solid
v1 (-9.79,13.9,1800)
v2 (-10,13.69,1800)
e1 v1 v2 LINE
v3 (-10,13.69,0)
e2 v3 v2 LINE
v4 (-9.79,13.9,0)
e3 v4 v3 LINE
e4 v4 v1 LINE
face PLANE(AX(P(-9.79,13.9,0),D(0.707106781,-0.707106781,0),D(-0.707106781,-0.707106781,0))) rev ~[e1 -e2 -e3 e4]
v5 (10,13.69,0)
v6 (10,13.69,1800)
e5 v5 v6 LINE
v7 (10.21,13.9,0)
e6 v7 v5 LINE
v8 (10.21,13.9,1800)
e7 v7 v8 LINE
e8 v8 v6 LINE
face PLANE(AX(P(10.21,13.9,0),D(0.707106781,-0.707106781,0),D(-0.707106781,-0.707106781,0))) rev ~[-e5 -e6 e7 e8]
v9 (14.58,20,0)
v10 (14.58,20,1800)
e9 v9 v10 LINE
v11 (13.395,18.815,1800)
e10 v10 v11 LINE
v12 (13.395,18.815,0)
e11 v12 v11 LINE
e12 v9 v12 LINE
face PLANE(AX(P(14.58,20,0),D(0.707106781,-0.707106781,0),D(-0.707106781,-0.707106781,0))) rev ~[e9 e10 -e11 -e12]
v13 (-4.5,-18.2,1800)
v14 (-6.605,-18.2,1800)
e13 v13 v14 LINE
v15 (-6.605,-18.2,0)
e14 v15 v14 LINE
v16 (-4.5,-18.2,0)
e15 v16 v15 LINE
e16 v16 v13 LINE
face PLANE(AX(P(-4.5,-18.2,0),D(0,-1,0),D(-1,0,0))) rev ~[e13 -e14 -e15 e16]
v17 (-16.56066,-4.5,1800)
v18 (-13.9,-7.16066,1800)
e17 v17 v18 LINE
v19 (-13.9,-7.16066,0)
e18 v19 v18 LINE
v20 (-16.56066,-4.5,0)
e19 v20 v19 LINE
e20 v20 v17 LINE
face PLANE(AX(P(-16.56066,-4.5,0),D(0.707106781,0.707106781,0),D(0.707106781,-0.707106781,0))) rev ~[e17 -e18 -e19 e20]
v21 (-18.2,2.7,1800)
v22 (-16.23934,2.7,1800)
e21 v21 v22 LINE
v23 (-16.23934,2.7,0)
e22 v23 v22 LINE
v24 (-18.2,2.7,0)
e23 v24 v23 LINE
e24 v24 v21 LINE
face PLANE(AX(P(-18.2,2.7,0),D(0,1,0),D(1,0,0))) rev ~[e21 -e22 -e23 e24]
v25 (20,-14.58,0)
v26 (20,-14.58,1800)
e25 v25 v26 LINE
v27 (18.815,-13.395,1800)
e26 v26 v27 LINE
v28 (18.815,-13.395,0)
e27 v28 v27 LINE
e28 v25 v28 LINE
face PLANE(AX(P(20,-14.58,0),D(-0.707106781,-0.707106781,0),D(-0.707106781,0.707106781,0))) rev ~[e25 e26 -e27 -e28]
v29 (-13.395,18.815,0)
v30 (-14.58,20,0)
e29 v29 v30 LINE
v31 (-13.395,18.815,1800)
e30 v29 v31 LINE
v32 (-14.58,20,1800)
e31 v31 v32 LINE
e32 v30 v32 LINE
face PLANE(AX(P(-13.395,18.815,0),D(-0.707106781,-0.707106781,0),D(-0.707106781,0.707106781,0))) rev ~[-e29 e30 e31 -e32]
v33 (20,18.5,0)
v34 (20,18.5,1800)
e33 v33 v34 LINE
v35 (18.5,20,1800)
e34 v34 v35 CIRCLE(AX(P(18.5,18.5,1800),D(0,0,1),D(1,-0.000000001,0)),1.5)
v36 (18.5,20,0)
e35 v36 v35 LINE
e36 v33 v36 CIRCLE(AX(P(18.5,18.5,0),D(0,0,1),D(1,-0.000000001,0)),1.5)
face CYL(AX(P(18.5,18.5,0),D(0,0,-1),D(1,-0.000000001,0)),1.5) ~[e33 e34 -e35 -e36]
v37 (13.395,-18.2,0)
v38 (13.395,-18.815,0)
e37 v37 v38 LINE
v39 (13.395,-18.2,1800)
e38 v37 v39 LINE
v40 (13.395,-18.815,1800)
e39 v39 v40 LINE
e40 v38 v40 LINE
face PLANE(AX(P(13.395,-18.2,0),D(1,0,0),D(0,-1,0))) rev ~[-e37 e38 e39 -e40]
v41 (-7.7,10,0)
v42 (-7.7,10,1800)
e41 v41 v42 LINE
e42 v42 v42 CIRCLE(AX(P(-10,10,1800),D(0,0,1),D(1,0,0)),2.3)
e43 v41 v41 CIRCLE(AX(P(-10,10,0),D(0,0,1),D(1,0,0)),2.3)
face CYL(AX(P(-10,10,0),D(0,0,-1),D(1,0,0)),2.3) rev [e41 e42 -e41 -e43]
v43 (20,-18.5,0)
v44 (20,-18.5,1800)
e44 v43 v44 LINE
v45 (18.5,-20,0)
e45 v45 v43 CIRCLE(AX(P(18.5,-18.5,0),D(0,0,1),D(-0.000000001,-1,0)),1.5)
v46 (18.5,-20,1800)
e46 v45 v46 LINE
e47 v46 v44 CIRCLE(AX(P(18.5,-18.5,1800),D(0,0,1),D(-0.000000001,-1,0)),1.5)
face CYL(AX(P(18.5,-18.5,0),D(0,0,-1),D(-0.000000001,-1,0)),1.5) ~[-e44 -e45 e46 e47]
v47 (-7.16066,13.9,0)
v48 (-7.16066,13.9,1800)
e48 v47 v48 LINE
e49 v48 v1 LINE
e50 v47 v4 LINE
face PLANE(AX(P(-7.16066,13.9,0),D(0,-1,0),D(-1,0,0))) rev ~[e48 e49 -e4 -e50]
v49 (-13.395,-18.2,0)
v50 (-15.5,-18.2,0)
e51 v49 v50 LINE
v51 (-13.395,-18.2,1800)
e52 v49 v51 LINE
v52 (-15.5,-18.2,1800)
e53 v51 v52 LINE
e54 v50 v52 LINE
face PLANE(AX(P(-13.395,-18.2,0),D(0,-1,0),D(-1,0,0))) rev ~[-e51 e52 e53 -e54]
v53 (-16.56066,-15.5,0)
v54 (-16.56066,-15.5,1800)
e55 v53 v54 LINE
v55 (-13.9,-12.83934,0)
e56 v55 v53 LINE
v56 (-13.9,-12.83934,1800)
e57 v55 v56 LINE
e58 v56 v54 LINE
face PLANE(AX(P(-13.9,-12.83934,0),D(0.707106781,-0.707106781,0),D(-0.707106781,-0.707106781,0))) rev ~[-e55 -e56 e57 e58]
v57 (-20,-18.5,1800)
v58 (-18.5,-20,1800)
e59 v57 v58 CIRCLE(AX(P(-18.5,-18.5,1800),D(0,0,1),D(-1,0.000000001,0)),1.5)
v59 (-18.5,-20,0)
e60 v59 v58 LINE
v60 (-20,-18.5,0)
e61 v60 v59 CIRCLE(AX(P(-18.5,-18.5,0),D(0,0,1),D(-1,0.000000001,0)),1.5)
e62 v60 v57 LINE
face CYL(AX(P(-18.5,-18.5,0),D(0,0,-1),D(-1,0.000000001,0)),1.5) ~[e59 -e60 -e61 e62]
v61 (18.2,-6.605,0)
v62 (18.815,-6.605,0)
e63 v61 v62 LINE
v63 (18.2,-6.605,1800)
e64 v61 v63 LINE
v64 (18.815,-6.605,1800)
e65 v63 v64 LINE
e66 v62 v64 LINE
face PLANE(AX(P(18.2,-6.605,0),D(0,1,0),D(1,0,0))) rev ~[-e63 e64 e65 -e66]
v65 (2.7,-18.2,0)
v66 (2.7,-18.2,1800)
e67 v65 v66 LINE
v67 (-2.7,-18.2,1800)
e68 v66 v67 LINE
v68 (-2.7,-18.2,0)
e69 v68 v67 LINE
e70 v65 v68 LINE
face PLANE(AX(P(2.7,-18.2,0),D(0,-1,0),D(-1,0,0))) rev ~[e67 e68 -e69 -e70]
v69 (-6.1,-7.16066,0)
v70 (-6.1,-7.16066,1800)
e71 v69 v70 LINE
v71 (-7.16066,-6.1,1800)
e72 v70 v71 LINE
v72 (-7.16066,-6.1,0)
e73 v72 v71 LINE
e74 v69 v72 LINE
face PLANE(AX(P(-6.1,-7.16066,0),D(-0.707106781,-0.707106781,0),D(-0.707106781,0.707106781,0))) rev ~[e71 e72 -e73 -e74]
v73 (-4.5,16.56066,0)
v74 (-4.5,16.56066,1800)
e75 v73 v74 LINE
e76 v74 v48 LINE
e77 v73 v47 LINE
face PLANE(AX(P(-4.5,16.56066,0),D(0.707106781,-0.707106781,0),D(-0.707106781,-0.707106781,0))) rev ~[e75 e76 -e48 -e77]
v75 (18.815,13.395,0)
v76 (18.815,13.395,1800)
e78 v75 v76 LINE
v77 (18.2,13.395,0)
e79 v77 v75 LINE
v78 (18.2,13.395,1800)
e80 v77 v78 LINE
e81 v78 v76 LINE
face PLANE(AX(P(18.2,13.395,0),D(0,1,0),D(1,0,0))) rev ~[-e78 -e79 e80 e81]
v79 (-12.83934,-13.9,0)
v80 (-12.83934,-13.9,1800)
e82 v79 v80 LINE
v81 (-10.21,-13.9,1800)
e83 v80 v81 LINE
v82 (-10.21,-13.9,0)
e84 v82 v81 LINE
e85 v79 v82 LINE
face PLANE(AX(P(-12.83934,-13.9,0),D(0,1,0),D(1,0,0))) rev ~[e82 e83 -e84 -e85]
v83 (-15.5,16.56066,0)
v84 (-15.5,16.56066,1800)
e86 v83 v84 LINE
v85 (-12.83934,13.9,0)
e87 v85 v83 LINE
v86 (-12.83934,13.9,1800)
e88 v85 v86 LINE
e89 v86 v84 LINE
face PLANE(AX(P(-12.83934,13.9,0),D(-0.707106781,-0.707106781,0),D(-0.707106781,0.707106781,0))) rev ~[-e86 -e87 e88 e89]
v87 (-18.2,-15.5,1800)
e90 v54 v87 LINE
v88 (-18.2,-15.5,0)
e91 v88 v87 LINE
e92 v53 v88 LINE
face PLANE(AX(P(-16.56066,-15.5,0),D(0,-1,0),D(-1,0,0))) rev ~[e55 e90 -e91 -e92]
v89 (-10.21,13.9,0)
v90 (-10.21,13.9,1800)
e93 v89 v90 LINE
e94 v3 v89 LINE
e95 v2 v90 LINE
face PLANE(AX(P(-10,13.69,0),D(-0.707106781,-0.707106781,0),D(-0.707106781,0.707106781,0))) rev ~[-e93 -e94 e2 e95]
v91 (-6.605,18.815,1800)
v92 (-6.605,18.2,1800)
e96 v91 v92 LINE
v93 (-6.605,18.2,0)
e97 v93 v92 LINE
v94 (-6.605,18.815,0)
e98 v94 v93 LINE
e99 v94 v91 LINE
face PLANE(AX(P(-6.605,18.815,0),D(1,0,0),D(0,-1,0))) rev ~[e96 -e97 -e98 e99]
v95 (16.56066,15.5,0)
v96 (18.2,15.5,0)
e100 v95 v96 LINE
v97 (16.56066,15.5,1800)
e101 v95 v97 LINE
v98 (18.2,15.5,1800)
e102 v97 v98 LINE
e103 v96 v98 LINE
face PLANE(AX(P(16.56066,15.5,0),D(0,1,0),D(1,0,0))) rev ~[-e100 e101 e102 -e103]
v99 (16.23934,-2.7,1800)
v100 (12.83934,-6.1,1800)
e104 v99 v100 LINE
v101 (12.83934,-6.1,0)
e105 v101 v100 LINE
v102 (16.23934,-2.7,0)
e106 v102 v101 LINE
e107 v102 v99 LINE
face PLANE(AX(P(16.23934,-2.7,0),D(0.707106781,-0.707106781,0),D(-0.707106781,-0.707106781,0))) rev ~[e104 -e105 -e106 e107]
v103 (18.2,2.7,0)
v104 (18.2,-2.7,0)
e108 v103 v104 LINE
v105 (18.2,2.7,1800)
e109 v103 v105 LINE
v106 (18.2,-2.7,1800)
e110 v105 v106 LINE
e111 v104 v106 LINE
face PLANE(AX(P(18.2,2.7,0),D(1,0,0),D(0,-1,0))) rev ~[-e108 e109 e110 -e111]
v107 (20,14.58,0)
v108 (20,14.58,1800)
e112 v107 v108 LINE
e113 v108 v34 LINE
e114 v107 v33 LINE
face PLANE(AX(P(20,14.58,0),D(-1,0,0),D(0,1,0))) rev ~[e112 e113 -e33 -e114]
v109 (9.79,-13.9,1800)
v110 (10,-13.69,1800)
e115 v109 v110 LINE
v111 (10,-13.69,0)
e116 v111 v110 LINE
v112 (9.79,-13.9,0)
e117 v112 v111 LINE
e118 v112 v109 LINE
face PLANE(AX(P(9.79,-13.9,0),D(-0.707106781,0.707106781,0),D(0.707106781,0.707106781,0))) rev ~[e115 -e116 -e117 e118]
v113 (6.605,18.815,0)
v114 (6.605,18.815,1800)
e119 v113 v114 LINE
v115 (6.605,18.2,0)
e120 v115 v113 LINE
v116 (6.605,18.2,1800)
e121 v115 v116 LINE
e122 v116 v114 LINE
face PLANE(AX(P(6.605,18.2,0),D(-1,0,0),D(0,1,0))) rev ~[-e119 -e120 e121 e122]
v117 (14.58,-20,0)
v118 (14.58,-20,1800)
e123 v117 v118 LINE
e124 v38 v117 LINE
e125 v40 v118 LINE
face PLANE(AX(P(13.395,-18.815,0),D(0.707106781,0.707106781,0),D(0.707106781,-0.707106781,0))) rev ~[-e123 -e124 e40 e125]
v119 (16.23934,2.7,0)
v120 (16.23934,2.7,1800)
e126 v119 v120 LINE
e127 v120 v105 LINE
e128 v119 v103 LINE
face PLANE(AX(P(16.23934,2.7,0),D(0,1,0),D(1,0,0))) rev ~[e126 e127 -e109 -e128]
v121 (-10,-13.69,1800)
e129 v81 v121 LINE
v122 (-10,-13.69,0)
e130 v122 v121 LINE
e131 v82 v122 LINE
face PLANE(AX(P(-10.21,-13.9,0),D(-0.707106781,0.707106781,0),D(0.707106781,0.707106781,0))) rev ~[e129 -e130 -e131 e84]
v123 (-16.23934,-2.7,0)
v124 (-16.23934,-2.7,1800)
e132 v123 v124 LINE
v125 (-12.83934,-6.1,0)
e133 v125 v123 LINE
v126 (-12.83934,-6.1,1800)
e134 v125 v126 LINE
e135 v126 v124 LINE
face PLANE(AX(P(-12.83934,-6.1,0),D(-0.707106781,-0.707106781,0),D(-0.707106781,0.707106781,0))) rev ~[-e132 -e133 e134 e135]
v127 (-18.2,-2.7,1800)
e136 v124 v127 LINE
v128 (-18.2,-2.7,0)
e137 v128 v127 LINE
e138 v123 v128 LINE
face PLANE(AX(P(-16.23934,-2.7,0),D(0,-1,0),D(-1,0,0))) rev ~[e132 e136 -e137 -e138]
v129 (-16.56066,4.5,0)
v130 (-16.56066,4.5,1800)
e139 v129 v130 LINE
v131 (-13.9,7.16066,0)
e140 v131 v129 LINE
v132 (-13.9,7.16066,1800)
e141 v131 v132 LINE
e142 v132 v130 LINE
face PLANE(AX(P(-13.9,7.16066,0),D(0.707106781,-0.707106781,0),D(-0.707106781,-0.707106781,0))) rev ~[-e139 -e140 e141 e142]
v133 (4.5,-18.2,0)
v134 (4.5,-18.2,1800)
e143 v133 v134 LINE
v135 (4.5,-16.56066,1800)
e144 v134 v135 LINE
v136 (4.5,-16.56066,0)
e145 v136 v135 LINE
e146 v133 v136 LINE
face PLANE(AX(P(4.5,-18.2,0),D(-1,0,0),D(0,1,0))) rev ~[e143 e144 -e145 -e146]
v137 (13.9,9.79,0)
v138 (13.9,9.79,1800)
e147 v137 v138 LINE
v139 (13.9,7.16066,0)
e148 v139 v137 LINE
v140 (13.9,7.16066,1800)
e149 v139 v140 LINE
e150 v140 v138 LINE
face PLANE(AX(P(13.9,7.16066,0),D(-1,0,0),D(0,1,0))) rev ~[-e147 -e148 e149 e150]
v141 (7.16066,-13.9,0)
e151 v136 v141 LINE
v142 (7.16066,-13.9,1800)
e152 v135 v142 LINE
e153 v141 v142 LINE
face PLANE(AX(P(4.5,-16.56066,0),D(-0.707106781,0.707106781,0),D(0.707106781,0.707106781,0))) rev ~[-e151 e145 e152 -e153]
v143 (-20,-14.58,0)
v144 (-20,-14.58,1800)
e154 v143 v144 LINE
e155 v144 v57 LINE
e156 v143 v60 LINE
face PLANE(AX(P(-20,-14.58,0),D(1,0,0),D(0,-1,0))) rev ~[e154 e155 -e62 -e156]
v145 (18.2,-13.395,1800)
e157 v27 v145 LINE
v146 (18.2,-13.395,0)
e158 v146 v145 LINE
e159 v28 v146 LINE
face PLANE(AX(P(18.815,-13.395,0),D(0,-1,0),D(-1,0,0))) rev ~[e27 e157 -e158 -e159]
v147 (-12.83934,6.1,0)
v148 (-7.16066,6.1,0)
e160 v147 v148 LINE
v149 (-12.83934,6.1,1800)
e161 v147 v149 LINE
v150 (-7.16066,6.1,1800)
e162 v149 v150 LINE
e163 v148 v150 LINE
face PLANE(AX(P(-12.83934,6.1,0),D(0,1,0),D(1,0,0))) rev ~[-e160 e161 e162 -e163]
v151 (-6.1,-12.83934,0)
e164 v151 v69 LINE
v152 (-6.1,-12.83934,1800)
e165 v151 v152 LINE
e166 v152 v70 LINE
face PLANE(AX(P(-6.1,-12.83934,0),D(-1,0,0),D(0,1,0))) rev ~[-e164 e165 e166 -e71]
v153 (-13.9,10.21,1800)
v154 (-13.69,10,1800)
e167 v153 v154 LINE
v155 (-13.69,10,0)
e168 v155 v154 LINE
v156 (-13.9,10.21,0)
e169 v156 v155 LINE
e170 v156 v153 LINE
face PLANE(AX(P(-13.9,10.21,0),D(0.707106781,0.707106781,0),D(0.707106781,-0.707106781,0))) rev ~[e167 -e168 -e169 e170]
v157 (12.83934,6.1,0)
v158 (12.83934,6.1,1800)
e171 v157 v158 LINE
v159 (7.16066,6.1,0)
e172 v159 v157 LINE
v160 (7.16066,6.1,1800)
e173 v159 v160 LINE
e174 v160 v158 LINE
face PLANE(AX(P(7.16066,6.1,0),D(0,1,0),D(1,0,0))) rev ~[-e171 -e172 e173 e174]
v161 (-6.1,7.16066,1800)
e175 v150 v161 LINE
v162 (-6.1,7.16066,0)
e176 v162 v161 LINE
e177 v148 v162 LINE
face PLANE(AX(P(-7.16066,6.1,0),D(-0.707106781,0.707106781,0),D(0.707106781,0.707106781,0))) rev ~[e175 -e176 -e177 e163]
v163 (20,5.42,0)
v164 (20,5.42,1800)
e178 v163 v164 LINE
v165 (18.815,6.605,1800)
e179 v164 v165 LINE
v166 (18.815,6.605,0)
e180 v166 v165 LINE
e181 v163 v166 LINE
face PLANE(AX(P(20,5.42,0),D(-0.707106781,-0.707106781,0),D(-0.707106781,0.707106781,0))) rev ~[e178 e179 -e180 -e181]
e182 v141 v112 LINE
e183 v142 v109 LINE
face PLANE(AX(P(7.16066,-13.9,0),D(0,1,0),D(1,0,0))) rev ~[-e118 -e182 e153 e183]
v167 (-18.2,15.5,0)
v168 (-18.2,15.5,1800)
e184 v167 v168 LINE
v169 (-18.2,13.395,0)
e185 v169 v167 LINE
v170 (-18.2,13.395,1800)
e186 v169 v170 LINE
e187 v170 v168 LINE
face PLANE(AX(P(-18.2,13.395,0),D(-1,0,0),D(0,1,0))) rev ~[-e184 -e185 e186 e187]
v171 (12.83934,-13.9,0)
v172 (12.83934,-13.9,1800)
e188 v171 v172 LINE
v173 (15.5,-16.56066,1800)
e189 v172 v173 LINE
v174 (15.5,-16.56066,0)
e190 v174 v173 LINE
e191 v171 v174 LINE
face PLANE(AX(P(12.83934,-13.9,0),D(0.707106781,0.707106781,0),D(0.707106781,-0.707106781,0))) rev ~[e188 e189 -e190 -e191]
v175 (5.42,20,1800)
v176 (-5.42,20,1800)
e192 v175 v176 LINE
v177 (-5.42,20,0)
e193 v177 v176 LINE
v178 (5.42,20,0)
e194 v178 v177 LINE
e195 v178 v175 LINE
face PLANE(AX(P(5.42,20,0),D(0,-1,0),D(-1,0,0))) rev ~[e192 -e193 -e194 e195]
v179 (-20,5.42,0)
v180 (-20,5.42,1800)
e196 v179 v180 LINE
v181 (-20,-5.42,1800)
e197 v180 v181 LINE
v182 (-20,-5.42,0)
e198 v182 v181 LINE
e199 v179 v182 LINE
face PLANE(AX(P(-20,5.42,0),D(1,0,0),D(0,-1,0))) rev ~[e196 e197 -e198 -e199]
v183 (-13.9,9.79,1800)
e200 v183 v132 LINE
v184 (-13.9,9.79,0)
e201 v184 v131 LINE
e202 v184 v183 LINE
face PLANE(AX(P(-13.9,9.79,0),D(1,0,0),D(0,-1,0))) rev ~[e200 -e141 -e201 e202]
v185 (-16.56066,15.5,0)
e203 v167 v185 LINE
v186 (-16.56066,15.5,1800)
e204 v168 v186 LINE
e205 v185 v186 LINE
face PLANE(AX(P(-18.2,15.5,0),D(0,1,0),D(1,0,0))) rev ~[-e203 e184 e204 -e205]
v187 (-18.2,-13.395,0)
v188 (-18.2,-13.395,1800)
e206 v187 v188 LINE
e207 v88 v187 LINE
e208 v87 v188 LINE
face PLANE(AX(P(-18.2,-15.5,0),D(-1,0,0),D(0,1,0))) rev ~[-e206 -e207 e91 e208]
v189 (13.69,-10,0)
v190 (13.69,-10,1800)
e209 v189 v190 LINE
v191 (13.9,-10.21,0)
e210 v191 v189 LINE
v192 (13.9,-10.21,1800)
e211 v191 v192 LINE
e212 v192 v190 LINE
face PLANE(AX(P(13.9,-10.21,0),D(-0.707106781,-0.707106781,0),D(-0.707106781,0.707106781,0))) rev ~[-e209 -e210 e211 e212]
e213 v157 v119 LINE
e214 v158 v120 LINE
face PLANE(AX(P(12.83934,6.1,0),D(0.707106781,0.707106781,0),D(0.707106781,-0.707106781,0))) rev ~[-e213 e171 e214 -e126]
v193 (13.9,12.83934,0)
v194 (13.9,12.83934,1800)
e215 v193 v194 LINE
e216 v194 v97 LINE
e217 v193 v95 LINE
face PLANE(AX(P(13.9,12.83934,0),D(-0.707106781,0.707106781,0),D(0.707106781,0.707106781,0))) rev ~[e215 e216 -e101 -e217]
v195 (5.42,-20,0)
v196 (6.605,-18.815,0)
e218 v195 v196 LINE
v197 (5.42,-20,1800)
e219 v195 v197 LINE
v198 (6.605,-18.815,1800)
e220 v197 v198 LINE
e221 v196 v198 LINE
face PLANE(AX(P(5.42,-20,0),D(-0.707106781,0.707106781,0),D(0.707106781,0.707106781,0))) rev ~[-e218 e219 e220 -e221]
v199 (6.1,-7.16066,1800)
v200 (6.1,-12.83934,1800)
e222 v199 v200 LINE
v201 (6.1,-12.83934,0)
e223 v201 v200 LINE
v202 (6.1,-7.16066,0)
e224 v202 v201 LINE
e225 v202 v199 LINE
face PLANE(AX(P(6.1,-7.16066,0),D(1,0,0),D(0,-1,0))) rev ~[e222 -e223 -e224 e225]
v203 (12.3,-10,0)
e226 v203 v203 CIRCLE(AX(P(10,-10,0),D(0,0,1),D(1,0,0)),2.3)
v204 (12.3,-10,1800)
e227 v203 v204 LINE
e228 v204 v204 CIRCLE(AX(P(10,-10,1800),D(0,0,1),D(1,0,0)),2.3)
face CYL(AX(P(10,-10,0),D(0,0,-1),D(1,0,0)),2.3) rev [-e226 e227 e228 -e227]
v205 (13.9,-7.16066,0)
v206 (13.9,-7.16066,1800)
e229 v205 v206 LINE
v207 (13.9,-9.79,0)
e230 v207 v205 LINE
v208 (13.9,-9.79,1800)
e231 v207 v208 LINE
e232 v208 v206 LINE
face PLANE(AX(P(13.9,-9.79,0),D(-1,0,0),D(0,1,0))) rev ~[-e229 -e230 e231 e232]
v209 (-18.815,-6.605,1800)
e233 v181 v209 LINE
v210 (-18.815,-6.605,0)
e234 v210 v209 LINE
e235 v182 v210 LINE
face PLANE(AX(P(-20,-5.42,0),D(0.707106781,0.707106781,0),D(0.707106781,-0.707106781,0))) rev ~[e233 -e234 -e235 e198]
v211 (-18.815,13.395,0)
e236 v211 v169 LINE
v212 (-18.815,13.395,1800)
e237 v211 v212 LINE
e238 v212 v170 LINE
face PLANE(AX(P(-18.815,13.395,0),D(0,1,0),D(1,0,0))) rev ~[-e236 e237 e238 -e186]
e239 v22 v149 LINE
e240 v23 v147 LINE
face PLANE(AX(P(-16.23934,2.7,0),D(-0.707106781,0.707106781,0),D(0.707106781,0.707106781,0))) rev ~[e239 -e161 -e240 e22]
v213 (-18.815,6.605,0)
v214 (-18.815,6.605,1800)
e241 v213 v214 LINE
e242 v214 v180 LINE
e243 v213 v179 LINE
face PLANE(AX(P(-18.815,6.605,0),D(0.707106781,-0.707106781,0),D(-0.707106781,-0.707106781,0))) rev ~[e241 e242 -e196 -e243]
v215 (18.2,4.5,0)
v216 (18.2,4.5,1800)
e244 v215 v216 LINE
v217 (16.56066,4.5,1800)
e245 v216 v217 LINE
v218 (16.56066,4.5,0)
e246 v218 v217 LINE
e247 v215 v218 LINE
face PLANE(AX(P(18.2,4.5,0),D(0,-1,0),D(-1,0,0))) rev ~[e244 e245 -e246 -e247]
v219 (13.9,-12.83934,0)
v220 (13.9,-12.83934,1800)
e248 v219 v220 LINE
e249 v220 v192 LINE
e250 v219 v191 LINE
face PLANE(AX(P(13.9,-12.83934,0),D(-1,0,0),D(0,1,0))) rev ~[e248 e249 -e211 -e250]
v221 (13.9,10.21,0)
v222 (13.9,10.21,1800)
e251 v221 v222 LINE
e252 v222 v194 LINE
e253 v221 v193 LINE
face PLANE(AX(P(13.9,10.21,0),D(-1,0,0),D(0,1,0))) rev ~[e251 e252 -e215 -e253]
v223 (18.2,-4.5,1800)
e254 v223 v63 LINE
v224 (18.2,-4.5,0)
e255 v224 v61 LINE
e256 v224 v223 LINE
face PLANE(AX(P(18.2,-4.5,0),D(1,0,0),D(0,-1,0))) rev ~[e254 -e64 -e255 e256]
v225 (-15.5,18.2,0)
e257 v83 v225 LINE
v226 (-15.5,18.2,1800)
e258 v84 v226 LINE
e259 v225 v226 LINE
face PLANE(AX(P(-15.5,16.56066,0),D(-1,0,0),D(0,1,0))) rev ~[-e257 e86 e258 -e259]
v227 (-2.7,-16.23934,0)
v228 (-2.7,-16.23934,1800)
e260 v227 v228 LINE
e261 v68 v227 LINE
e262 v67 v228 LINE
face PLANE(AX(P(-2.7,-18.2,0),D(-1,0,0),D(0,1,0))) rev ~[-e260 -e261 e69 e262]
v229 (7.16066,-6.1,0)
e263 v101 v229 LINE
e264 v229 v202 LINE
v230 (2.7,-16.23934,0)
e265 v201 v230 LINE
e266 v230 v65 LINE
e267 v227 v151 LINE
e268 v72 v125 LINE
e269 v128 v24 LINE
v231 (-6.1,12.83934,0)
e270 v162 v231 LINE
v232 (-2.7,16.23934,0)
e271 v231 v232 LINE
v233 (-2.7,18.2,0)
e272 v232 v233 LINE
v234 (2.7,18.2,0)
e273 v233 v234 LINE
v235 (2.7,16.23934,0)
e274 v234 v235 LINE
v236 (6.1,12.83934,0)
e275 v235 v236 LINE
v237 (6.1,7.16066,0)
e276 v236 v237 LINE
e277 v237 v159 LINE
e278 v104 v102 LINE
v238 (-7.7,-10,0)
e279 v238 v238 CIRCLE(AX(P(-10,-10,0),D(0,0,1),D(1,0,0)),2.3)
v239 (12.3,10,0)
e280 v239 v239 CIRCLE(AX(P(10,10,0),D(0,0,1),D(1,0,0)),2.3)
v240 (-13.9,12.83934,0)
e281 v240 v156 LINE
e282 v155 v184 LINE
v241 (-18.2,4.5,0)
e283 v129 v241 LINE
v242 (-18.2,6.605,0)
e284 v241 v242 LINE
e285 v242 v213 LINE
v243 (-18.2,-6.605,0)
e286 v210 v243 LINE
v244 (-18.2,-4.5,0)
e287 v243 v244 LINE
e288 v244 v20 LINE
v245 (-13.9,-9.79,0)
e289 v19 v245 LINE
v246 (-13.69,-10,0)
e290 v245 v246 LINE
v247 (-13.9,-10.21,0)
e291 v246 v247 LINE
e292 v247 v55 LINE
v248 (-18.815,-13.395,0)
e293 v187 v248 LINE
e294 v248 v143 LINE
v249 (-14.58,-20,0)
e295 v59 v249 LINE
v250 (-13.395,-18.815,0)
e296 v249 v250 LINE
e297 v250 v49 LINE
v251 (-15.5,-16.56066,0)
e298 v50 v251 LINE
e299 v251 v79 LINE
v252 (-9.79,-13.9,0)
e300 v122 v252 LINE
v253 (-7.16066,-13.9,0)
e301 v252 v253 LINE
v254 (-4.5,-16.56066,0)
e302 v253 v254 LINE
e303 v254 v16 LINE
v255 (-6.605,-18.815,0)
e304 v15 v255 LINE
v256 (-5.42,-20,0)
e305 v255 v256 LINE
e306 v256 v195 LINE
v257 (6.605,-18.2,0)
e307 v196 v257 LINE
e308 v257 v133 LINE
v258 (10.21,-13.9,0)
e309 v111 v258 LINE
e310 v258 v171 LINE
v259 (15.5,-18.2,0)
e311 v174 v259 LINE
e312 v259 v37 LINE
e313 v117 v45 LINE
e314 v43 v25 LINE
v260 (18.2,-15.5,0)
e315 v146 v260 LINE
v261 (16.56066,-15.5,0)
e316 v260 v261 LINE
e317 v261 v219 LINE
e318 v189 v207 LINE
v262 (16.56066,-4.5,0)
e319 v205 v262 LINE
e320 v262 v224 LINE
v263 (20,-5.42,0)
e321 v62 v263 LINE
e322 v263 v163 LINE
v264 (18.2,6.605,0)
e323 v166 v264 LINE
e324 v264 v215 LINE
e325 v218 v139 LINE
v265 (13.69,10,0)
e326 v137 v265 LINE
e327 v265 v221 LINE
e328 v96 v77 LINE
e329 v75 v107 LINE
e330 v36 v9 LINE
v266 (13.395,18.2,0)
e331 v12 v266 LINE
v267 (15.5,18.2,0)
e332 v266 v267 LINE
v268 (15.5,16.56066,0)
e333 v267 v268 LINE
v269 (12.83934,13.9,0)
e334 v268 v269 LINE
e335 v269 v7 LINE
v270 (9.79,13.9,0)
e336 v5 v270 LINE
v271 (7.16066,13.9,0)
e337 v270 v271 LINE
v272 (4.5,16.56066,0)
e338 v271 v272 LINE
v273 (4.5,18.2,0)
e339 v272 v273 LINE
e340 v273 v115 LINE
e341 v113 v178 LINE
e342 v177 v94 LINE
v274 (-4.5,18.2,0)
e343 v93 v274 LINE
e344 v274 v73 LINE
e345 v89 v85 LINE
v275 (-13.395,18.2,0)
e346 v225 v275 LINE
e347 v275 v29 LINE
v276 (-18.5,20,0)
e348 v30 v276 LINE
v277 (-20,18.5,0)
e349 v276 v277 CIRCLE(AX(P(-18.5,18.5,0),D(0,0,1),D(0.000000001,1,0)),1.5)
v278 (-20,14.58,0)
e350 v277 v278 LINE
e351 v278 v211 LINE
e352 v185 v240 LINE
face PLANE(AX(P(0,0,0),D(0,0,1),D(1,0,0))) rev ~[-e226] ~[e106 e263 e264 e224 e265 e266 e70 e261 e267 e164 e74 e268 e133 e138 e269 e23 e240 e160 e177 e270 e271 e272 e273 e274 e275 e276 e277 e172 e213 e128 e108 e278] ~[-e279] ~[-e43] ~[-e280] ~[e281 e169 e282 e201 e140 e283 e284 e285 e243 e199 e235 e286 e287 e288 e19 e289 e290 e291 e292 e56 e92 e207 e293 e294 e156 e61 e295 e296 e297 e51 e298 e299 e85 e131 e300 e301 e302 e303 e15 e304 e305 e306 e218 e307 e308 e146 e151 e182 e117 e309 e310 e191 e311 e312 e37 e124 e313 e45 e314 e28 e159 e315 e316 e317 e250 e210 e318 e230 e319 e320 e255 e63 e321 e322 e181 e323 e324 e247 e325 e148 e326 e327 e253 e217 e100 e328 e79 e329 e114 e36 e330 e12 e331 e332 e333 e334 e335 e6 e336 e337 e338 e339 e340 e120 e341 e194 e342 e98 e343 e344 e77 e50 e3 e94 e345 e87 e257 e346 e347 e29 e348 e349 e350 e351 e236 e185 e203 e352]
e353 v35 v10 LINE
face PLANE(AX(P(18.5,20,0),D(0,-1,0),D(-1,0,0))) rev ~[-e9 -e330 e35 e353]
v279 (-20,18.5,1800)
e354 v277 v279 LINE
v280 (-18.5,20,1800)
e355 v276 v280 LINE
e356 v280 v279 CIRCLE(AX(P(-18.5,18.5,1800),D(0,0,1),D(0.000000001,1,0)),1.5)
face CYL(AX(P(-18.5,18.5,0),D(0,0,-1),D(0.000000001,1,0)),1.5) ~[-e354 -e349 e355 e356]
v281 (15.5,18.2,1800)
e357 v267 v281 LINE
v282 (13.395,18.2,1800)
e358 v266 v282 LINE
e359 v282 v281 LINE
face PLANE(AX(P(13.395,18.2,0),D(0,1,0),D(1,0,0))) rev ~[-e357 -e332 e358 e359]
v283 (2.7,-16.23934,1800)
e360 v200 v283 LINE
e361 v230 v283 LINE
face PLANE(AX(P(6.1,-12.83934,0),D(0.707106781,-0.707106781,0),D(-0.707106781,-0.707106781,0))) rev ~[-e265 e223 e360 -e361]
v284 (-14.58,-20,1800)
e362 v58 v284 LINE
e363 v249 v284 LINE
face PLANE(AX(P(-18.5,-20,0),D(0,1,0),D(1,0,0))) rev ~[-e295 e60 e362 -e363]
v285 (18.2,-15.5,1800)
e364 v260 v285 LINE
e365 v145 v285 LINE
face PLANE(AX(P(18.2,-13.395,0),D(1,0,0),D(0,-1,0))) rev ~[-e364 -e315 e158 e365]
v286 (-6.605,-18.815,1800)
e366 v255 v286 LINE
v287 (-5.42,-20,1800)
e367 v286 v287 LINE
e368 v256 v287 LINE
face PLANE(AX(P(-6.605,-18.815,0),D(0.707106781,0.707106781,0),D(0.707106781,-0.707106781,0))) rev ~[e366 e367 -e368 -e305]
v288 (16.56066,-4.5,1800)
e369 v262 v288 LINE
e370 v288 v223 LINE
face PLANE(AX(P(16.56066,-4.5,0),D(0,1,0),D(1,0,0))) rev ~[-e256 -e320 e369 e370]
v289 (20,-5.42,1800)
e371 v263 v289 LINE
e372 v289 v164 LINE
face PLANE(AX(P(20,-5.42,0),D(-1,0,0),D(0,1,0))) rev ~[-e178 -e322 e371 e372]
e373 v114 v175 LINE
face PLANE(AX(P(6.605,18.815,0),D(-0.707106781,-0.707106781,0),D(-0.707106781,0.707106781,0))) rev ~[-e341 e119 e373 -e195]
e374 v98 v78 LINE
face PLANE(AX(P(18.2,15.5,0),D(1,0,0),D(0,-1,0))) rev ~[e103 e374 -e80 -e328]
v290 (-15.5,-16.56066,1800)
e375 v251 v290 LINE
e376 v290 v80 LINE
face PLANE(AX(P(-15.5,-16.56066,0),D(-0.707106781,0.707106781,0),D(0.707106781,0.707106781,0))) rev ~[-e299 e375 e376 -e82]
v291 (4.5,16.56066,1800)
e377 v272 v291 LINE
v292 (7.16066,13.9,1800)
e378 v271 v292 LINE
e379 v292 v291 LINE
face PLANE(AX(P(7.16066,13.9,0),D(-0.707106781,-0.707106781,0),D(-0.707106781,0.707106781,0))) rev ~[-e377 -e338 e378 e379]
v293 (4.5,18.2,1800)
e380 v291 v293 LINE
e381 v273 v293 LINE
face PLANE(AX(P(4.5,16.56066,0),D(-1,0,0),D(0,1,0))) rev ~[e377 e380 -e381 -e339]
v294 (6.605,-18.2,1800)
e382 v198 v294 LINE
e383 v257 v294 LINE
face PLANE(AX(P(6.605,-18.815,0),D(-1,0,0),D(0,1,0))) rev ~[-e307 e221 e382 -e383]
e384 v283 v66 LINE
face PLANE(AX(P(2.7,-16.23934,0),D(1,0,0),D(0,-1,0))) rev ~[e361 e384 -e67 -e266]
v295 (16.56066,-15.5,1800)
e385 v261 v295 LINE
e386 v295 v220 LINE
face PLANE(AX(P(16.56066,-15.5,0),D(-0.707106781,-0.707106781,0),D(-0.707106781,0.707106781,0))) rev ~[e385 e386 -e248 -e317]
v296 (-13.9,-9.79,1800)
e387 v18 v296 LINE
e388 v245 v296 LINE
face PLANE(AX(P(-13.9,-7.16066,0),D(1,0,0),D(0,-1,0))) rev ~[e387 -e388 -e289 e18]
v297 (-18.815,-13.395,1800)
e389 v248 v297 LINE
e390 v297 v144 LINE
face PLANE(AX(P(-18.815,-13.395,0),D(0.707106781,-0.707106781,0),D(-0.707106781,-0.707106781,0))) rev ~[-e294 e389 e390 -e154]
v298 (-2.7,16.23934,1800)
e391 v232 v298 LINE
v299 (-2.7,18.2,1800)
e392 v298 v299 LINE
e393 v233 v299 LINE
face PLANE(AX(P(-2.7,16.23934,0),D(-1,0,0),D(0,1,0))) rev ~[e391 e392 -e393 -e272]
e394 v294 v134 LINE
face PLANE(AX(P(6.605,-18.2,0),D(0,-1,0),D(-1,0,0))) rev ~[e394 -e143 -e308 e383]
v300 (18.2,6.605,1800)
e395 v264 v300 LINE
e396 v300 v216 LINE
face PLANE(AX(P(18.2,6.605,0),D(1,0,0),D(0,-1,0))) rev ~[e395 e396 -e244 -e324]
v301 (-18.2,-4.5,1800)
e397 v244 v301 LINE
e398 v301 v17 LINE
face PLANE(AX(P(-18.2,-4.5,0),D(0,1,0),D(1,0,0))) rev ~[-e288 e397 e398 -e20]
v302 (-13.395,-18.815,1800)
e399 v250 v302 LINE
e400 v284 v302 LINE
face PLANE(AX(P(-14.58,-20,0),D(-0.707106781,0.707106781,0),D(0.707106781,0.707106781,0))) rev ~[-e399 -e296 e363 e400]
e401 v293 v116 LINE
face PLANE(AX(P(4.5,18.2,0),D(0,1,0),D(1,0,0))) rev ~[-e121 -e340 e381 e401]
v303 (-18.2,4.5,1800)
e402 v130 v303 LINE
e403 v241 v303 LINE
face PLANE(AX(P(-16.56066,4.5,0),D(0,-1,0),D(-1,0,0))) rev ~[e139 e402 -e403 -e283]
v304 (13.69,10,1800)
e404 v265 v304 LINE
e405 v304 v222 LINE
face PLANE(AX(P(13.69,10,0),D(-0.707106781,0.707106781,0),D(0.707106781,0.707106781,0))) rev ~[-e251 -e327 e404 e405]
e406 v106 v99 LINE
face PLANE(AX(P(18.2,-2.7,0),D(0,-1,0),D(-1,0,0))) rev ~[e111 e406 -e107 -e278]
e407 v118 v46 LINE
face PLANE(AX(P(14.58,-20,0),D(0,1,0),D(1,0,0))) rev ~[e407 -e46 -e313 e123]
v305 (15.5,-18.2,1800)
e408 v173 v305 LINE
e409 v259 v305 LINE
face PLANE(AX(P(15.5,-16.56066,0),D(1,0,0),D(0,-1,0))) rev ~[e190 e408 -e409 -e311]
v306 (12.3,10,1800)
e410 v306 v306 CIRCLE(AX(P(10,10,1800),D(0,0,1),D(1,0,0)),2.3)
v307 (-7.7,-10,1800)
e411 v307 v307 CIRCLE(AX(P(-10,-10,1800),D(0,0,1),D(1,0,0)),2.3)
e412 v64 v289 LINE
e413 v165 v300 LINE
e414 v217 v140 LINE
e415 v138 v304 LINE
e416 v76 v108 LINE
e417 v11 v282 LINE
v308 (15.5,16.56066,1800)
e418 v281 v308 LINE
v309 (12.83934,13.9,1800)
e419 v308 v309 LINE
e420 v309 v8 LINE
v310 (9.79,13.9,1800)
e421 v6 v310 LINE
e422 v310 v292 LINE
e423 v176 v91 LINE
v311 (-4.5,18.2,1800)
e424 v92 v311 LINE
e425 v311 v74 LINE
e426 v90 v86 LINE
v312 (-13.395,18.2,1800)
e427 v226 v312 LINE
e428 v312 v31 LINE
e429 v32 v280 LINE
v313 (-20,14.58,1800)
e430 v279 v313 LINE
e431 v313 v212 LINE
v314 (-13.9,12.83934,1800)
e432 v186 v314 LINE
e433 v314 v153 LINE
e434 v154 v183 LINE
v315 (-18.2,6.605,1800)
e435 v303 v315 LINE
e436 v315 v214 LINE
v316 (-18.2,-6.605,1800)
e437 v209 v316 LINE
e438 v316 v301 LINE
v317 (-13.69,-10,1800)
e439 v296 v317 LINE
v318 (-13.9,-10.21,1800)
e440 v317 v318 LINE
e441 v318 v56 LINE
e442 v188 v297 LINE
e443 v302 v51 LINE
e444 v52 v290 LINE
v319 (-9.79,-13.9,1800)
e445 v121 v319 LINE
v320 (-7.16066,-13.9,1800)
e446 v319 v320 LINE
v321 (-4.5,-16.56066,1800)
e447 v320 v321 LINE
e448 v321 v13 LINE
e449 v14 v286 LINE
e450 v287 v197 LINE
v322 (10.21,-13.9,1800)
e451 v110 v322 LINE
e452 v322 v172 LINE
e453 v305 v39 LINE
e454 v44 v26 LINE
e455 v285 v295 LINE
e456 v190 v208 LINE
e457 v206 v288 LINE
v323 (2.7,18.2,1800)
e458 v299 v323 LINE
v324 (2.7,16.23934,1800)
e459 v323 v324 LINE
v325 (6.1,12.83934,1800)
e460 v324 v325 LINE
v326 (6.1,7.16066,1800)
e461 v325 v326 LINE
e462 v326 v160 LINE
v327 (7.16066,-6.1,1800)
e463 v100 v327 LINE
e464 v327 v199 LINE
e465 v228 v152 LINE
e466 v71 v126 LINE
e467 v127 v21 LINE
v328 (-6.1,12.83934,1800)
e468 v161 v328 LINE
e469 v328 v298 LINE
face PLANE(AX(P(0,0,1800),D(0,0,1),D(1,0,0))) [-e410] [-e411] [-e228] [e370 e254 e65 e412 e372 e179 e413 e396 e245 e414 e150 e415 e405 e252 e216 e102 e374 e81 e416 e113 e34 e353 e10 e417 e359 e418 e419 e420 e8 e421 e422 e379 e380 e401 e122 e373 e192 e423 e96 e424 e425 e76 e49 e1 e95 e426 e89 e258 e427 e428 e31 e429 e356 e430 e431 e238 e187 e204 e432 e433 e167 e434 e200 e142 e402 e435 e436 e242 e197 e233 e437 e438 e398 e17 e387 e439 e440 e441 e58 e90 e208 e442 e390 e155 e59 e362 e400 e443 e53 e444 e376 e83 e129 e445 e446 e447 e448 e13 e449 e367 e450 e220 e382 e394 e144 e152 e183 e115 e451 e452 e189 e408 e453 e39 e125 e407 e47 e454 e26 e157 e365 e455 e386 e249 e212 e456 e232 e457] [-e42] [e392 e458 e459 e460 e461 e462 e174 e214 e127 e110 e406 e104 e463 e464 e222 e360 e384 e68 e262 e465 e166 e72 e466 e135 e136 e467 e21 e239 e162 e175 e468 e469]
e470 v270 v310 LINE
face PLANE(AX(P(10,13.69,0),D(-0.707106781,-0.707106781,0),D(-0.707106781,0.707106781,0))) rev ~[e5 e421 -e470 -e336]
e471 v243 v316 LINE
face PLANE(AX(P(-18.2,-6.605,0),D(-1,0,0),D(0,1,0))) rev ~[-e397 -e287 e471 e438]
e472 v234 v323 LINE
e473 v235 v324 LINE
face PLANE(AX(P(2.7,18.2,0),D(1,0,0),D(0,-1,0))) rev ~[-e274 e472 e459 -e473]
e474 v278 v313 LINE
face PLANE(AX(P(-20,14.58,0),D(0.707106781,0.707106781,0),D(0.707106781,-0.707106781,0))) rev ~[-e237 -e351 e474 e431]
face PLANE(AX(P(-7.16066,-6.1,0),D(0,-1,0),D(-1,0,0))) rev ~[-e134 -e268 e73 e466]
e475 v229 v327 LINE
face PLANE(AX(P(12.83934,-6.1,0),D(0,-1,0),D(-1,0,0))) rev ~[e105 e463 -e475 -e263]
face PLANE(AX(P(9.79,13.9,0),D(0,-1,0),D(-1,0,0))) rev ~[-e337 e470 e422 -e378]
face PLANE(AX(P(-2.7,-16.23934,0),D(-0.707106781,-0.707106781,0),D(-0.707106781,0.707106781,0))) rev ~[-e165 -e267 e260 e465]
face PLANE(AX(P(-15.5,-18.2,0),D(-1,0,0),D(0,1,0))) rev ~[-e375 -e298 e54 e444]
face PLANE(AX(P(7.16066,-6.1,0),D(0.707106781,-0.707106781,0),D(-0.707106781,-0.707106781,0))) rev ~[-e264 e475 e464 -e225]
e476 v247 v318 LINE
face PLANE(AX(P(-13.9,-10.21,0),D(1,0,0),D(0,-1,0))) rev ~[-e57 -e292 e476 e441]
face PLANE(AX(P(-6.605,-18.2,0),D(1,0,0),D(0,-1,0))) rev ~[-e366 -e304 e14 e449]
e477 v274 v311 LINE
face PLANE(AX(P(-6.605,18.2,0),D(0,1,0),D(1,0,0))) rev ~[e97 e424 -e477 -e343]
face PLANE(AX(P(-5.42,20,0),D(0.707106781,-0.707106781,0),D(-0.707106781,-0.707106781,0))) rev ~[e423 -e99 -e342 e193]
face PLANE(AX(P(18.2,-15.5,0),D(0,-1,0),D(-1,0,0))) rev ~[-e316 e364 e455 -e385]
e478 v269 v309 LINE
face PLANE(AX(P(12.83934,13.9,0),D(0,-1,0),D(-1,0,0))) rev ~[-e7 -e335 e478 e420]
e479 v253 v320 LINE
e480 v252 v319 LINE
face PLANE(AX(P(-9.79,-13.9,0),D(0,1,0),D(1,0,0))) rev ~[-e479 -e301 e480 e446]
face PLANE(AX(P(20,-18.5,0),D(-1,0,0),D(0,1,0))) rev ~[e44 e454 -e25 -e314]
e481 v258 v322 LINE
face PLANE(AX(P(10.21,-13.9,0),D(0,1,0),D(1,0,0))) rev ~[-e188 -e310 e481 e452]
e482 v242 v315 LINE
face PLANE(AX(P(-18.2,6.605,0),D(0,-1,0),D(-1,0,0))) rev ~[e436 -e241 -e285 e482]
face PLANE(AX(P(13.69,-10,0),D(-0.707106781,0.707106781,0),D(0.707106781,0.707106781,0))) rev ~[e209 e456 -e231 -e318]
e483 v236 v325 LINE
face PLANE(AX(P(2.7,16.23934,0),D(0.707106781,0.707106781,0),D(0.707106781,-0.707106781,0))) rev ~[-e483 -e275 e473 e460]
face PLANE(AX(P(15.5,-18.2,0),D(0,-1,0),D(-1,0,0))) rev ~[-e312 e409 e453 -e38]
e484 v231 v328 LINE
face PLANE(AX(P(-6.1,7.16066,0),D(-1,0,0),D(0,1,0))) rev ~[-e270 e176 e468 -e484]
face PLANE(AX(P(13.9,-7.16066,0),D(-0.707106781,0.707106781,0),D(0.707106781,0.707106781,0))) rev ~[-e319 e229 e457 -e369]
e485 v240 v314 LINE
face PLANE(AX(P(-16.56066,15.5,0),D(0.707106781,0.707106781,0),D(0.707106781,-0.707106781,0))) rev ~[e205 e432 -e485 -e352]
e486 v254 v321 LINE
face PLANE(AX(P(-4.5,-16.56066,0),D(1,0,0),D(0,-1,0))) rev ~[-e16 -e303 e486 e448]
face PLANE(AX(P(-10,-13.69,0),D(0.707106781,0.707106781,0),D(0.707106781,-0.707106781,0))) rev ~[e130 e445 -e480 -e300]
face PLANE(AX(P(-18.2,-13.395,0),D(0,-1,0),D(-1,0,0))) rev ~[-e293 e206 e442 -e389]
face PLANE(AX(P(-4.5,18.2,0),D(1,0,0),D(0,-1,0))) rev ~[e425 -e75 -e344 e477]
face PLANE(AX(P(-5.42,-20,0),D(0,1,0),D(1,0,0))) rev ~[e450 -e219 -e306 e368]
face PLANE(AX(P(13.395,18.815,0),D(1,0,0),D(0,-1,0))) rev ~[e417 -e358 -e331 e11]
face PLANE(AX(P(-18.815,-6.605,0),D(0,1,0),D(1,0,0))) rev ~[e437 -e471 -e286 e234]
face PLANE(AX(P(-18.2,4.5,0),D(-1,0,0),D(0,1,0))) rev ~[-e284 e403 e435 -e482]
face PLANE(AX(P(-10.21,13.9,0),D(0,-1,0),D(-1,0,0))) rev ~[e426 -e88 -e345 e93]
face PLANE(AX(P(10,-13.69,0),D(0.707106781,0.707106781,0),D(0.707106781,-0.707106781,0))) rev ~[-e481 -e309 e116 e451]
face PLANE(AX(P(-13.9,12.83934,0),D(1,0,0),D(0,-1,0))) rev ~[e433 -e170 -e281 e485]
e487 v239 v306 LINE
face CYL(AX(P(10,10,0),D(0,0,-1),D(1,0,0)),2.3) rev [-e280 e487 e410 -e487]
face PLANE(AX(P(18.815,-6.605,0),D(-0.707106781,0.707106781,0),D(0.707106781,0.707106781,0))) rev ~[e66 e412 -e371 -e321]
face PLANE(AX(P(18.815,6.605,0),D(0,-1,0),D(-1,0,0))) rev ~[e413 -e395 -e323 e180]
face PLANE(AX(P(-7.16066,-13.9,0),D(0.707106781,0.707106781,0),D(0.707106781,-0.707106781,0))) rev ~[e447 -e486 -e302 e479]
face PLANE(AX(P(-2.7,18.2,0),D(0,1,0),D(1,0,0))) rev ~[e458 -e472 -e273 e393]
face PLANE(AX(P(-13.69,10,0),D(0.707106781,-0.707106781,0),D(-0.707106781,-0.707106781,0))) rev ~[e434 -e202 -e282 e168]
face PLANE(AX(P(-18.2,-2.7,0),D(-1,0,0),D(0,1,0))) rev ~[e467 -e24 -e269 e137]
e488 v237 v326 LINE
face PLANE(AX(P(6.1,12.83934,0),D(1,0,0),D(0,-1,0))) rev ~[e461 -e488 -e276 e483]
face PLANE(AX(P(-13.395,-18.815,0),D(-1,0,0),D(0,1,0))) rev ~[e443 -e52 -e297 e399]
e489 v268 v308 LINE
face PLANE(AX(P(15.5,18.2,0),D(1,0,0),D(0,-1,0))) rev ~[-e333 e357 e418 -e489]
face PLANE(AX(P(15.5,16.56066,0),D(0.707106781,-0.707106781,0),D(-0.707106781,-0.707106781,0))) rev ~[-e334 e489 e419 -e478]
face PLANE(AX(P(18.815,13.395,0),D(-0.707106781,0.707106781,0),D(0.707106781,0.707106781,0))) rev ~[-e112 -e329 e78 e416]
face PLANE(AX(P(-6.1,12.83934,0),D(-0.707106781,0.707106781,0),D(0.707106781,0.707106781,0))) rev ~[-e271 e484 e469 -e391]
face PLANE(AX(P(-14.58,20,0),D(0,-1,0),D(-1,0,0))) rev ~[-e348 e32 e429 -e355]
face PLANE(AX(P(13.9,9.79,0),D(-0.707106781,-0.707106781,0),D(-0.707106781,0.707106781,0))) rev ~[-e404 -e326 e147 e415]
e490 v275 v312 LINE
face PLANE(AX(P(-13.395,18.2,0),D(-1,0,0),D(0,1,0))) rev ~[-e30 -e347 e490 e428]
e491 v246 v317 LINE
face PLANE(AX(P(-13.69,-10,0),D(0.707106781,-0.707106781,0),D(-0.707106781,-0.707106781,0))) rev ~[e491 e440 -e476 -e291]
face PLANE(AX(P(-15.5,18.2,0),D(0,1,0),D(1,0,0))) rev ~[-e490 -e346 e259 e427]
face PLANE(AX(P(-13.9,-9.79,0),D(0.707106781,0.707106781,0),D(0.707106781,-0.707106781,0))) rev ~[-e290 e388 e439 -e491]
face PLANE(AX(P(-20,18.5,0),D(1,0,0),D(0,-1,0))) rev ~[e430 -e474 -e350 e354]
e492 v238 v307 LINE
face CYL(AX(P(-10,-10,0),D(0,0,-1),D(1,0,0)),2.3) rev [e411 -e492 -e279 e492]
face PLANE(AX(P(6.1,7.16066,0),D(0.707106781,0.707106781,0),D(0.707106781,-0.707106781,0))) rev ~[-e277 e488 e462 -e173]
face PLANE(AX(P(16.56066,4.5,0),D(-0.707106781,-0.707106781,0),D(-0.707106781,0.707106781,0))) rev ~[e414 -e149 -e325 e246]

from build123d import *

# Parameters (mm, degrees)
SKETCH1_R           = 2.3
BOSS_EXTRUDE1_DEPTH = 1800


with BuildPart() as part:
    # Sketch1 → Boss-Extrude1 (new body)
    with BuildSketch(Plane.XY):
        with BuildLine():
            Line((14.58, -20), (18.5, -20))
            ThreePointArc((18.5, -20), (19.560660172, -19.560660172), (20, -18.5))
            Line((20, -18.5), (20, -14.58))
            Line((20, -14.58), (18.815, -13.395))
            Line((18.815, -13.395), (18.2, -13.395))
            Line((18.2, -13.395), (18.2, -15.5))
            Line((18.2, -15.5), (16.560660172, -15.5))
            Line((16.560660172, -15.5), (13.9, -12.839339828))
            Line((13.9, -12.839339828), (13.9, -10.21))
            Line((13.9, -10.21), (13.69, -10))
            Line((13.69, -10), (13.9, -9.79))
            Line((13.9, -9.79), (13.9, -7.160660172))
            Line((13.9, -7.160660172), (16.560660172, -4.5))
            Line((16.560660172, -4.5), (18.2, -4.5))
            Line((18.2, -4.5), (18.2, -6.605))
            Line((18.2, -6.605), (18.815, -6.605))
            Line((18.815, -6.605), (20, -5.42))
            Line((20, -5.42), (20, 5.42))
            Line((20, 5.42), (18.815, 6.605))
            Line((18.815, 6.605), (18.2, 6.605))
            Line((18.2, 6.605), (18.2, 4.5))
            Line((18.2, 4.5), (16.560660172, 4.5))
            Line((16.560660172, 4.5), (13.9, 7.160660172))
            Line((13.9, 7.160660172), (13.9, 9.79))
            Line((13.9, 9.79), (13.69, 10))
            Line((13.69, 10), (13.9, 10.21))
            Line((13.9, 10.21), (13.9, 12.839339828))
            Line((13.9, 12.839339828), (16.560660172, 15.5))
            Line((16.560660172, 15.5), (18.2, 15.5))
            Line((18.2, 15.5), (18.2, 13.395))
            Line((18.2, 13.395), (18.815, 13.395))
            Line((18.815, 13.395), (20, 14.58))
            Line((20, 14.58), (20, 18.5))
            ThreePointArc((20, 18.5), (19.560660172, 19.560660172), (18.5, 20))
            Line((18.5, 20), (14.58, 20))
            Line((14.58, 20), (13.395, 18.815))
            Line((13.395, 18.815), (13.395, 18.2))
            Line((13.395, 18.2), (15.5, 18.2))
            Line((15.5, 18.2), (15.5, 16.560660172))
            Line((15.5, 16.560660172), (12.839339828, 13.9))
            Line((12.839339828, 13.9), (10.21, 13.9))
            Line((10.21, 13.9), (10, 13.69))
            Line((10, 13.69), (9.79, 13.9))
            Line((9.79, 13.9), (7.160660172, 13.9))
            Line((7.160660172, 13.9), (4.5, 16.560660172))
            Line((4.5, 16.560660172), (4.5, 18.2))
            Line((4.5, 18.2), (6.605, 18.2))
            Line((6.605, 18.2), (6.605, 18.815))
            Line((6.605, 18.815), (5.42, 20))
            Line((5.42, 20), (-5.42, 20))
            Line((-5.42, 20), (-6.605, 18.815))
            Line((-6.605, 18.815), (-6.605, 18.2))
            Line((-6.605, 18.2), (-4.5, 18.2))
            Line((-4.5, 18.2), (-4.5, 16.560660172))
            Line((-4.5, 16.560660172), (-7.160660172, 13.9))
            Line((-7.160660172, 13.9), (-9.79, 13.9))
            Line((-9.79, 13.9), (-10, 13.69))
            Line((-10, 13.69), (-10.21, 13.9))
            Line((-10.21, 13.9), (-12.839339828, 13.9))
            Line((-12.839339828, 13.9), (-15.5, 16.560660172))
            Line((-15.5, 16.560660172), (-15.5, 18.2))
            Line((-15.5, 18.2), (-13.395, 18.2))
            Line((-13.395, 18.2), (-13.395, 18.815))
            Line((-13.395, 18.815), (-14.58, 20))
            Line((-14.58, 20), (-18.5, 20))
            ThreePointArc((-18.5, 20), (-19.560660172, 19.560660172), (-20, 18.5))
            Line((-20, 18.5), (-20, 14.58))
            Line((-20, 14.58), (-18.815, 13.395))
            Line((-18.815, 13.395), (-18.2, 13.395))
            Line((-18.2, 13.395), (-18.2, 15.5))
            Line((-18.2, 15.5), (-16.560660172, 15.5))
            Line((-16.560660172, 15.5), (-13.9, 12.839339828))
            Line((-13.9, 12.839339828), (-13.9, 10.21))
            Line((-13.9, 10.21), (-13.69, 10))
            Line((-13.69, 10), (-13.9, 9.79))
            Line((-13.9, 9.79), (-13.9, 7.160660172))
            Line((-13.9, 7.160660172), (-16.560660172, 4.5))
            Line((-16.560660172, 4.5), (-18.2, 4.5))
            Line((-18.2, 4.5), (-18.2, 6.605))
            Line((-18.2, 6.605), (-18.815, 6.605))
            Line((-18.815, 6.605), (-20, 5.42))
            Line((-20, 5.42), (-20, -5.42))
            Line((-20, -5.42), (-18.815, -6.605))
            Line((-18.815, -6.605), (-18.2, -6.605))
            Line((-18.2, -6.605), (-18.2, -4.5))
            Line((-18.2, -4.5), (-16.560660172, -4.5))
            Line((-16.560660172, -4.5), (-13.9, -7.160660172))
            Line((-13.9, -7.160660172), (-13.9, -9.79))
            Line((-13.9, -9.79), (-13.69, -10))
            Line((-13.69, -10), (-13.9, -10.21))
            Line((-13.9, -10.21), (-13.9, -12.839339828))
            Line((-13.9, -12.839339828), (-16.560660172, -15.5))
            Line((-16.560660172, -15.5), (-18.2, -15.5))
            Line((-18.2, -15.5), (-18.2, -13.395))
            Line((-18.2, -13.395), (-18.815, -13.395))
            Line((-18.815, -13.395), (-20, -14.58))
            Line((-20, -14.58), (-20, -18.5))
            ThreePointArc((-20, -18.5), (-19.560660172, -19.560660172), (-18.5, -20))
            Line((-18.5, -20), (-14.58, -20))
            Line((-14.58, -20), (-13.395, -18.815))
            Line((-13.395, -18.815), (-13.395, -18.2))
            Line((-13.395, -18.2), (-15.5, -18.2))
            Line((-15.5, -18.2), (-15.5, -16.560660172))
            Line((-15.5, -16.560660172), (-12.839339828, -13.9))
            Line((-12.839339828, -13.9), (-10.21, -13.9))
            Line((-10.21, -13.9), (-10, -13.69))
            Line((-10, -13.69), (-9.79, -13.9))
            Line((-9.79, -13.9), (-7.160660172, -13.9))
            Line((-7.160660172, -13.9), (-4.5, -16.560660172))
            Line((-4.5, -16.560660172), (-4.5, -18.2))
            Line((-4.5, -18.2), (-6.605, -18.2))
            Line((-6.605, -18.2), (-6.605, -18.815))
            Line((-6.605, -18.815), (-5.42, -20))
            Line((-5.42, -20), (5.42, -20))
            Line((5.42, -20), (6.605, -18.815))
            Line((6.605, -18.815), (6.605, -18.2))
            Line((6.605, -18.2), (4.5, -18.2))
            Line((4.5, -18.2), (4.5, -16.560660172))
            Line((4.5, -16.560660172), (7.160660172, -13.9))
            Line((7.160660172, -13.9), (9.79, -13.9))
            Line((9.79, -13.9), (10, -13.69))
            Line((10, -13.69), (10.21, -13.9))
            Line((10.21, -13.9), (12.839339828, -13.9))
            Line((12.839339828, -13.9), (15.5, -16.560660172))
            Line((15.5, -16.560660172), (15.5, -18.2))
            Line((15.5, -18.2), (13.395, -18.2))
            Line((13.395, -18.2), (13.395, -18.815))
            Line((13.395, -18.815), (14.58, -20))
        make_face()
        with Locations((-10, -10)):
            Circle(SKETCH1_R, mode=Mode.SUBTRACT)
        with Locations((10, -10)):
            Circle(SKETCH1_R, mode=Mode.SUBTRACT)
        Polygon((-16.239339828, -2.7), (-18.2, -2.7), (-18.2, 2.7), (-16.239339828, 2.7), (-12.839339828, 6.1), (-7.160660172, 6.1), (-6.1, 7.160660172), (-6.1, 12.839339828), (-2.7, 16.239339828), (-2.7, 18.2), (2.7, 18.2), (2.7, 16.239339828), (6.1, 12.839339828), (6.1, 7.160660172), (7.160660172, 6.1), (12.839339828, 6.1), (16.239339828, 2.7), (18.2, 2.7), (18.2, -2.7), (16.239339828, -2.7), (12.839339828, -6.1), (7.160660172, -6.1), (6.1, -7.160660172), (6.1, -12.839339828), (2.7, -16.239339828), (2.7, -18.2), (-2.7, -18.2), (-2.7, -16.239339828), (-6.1, -12.839339828), (-6.1, -7.160660172), (-7.160660172, -6.1), (-12.839339828, -6.1), align=None, mode=Mode.SUBTRACT)
        with Locations((-10, 10)):
            Circle(SKETCH1_R, mode=Mode.SUBTRACT)
        with Locations((10, 10)):
            Circle(SKETCH1_R, mode=Mode.SUBTRACT)
    extrude(amount=BOSS_EXTRUDE1_DEPTH)


solid = part.part
